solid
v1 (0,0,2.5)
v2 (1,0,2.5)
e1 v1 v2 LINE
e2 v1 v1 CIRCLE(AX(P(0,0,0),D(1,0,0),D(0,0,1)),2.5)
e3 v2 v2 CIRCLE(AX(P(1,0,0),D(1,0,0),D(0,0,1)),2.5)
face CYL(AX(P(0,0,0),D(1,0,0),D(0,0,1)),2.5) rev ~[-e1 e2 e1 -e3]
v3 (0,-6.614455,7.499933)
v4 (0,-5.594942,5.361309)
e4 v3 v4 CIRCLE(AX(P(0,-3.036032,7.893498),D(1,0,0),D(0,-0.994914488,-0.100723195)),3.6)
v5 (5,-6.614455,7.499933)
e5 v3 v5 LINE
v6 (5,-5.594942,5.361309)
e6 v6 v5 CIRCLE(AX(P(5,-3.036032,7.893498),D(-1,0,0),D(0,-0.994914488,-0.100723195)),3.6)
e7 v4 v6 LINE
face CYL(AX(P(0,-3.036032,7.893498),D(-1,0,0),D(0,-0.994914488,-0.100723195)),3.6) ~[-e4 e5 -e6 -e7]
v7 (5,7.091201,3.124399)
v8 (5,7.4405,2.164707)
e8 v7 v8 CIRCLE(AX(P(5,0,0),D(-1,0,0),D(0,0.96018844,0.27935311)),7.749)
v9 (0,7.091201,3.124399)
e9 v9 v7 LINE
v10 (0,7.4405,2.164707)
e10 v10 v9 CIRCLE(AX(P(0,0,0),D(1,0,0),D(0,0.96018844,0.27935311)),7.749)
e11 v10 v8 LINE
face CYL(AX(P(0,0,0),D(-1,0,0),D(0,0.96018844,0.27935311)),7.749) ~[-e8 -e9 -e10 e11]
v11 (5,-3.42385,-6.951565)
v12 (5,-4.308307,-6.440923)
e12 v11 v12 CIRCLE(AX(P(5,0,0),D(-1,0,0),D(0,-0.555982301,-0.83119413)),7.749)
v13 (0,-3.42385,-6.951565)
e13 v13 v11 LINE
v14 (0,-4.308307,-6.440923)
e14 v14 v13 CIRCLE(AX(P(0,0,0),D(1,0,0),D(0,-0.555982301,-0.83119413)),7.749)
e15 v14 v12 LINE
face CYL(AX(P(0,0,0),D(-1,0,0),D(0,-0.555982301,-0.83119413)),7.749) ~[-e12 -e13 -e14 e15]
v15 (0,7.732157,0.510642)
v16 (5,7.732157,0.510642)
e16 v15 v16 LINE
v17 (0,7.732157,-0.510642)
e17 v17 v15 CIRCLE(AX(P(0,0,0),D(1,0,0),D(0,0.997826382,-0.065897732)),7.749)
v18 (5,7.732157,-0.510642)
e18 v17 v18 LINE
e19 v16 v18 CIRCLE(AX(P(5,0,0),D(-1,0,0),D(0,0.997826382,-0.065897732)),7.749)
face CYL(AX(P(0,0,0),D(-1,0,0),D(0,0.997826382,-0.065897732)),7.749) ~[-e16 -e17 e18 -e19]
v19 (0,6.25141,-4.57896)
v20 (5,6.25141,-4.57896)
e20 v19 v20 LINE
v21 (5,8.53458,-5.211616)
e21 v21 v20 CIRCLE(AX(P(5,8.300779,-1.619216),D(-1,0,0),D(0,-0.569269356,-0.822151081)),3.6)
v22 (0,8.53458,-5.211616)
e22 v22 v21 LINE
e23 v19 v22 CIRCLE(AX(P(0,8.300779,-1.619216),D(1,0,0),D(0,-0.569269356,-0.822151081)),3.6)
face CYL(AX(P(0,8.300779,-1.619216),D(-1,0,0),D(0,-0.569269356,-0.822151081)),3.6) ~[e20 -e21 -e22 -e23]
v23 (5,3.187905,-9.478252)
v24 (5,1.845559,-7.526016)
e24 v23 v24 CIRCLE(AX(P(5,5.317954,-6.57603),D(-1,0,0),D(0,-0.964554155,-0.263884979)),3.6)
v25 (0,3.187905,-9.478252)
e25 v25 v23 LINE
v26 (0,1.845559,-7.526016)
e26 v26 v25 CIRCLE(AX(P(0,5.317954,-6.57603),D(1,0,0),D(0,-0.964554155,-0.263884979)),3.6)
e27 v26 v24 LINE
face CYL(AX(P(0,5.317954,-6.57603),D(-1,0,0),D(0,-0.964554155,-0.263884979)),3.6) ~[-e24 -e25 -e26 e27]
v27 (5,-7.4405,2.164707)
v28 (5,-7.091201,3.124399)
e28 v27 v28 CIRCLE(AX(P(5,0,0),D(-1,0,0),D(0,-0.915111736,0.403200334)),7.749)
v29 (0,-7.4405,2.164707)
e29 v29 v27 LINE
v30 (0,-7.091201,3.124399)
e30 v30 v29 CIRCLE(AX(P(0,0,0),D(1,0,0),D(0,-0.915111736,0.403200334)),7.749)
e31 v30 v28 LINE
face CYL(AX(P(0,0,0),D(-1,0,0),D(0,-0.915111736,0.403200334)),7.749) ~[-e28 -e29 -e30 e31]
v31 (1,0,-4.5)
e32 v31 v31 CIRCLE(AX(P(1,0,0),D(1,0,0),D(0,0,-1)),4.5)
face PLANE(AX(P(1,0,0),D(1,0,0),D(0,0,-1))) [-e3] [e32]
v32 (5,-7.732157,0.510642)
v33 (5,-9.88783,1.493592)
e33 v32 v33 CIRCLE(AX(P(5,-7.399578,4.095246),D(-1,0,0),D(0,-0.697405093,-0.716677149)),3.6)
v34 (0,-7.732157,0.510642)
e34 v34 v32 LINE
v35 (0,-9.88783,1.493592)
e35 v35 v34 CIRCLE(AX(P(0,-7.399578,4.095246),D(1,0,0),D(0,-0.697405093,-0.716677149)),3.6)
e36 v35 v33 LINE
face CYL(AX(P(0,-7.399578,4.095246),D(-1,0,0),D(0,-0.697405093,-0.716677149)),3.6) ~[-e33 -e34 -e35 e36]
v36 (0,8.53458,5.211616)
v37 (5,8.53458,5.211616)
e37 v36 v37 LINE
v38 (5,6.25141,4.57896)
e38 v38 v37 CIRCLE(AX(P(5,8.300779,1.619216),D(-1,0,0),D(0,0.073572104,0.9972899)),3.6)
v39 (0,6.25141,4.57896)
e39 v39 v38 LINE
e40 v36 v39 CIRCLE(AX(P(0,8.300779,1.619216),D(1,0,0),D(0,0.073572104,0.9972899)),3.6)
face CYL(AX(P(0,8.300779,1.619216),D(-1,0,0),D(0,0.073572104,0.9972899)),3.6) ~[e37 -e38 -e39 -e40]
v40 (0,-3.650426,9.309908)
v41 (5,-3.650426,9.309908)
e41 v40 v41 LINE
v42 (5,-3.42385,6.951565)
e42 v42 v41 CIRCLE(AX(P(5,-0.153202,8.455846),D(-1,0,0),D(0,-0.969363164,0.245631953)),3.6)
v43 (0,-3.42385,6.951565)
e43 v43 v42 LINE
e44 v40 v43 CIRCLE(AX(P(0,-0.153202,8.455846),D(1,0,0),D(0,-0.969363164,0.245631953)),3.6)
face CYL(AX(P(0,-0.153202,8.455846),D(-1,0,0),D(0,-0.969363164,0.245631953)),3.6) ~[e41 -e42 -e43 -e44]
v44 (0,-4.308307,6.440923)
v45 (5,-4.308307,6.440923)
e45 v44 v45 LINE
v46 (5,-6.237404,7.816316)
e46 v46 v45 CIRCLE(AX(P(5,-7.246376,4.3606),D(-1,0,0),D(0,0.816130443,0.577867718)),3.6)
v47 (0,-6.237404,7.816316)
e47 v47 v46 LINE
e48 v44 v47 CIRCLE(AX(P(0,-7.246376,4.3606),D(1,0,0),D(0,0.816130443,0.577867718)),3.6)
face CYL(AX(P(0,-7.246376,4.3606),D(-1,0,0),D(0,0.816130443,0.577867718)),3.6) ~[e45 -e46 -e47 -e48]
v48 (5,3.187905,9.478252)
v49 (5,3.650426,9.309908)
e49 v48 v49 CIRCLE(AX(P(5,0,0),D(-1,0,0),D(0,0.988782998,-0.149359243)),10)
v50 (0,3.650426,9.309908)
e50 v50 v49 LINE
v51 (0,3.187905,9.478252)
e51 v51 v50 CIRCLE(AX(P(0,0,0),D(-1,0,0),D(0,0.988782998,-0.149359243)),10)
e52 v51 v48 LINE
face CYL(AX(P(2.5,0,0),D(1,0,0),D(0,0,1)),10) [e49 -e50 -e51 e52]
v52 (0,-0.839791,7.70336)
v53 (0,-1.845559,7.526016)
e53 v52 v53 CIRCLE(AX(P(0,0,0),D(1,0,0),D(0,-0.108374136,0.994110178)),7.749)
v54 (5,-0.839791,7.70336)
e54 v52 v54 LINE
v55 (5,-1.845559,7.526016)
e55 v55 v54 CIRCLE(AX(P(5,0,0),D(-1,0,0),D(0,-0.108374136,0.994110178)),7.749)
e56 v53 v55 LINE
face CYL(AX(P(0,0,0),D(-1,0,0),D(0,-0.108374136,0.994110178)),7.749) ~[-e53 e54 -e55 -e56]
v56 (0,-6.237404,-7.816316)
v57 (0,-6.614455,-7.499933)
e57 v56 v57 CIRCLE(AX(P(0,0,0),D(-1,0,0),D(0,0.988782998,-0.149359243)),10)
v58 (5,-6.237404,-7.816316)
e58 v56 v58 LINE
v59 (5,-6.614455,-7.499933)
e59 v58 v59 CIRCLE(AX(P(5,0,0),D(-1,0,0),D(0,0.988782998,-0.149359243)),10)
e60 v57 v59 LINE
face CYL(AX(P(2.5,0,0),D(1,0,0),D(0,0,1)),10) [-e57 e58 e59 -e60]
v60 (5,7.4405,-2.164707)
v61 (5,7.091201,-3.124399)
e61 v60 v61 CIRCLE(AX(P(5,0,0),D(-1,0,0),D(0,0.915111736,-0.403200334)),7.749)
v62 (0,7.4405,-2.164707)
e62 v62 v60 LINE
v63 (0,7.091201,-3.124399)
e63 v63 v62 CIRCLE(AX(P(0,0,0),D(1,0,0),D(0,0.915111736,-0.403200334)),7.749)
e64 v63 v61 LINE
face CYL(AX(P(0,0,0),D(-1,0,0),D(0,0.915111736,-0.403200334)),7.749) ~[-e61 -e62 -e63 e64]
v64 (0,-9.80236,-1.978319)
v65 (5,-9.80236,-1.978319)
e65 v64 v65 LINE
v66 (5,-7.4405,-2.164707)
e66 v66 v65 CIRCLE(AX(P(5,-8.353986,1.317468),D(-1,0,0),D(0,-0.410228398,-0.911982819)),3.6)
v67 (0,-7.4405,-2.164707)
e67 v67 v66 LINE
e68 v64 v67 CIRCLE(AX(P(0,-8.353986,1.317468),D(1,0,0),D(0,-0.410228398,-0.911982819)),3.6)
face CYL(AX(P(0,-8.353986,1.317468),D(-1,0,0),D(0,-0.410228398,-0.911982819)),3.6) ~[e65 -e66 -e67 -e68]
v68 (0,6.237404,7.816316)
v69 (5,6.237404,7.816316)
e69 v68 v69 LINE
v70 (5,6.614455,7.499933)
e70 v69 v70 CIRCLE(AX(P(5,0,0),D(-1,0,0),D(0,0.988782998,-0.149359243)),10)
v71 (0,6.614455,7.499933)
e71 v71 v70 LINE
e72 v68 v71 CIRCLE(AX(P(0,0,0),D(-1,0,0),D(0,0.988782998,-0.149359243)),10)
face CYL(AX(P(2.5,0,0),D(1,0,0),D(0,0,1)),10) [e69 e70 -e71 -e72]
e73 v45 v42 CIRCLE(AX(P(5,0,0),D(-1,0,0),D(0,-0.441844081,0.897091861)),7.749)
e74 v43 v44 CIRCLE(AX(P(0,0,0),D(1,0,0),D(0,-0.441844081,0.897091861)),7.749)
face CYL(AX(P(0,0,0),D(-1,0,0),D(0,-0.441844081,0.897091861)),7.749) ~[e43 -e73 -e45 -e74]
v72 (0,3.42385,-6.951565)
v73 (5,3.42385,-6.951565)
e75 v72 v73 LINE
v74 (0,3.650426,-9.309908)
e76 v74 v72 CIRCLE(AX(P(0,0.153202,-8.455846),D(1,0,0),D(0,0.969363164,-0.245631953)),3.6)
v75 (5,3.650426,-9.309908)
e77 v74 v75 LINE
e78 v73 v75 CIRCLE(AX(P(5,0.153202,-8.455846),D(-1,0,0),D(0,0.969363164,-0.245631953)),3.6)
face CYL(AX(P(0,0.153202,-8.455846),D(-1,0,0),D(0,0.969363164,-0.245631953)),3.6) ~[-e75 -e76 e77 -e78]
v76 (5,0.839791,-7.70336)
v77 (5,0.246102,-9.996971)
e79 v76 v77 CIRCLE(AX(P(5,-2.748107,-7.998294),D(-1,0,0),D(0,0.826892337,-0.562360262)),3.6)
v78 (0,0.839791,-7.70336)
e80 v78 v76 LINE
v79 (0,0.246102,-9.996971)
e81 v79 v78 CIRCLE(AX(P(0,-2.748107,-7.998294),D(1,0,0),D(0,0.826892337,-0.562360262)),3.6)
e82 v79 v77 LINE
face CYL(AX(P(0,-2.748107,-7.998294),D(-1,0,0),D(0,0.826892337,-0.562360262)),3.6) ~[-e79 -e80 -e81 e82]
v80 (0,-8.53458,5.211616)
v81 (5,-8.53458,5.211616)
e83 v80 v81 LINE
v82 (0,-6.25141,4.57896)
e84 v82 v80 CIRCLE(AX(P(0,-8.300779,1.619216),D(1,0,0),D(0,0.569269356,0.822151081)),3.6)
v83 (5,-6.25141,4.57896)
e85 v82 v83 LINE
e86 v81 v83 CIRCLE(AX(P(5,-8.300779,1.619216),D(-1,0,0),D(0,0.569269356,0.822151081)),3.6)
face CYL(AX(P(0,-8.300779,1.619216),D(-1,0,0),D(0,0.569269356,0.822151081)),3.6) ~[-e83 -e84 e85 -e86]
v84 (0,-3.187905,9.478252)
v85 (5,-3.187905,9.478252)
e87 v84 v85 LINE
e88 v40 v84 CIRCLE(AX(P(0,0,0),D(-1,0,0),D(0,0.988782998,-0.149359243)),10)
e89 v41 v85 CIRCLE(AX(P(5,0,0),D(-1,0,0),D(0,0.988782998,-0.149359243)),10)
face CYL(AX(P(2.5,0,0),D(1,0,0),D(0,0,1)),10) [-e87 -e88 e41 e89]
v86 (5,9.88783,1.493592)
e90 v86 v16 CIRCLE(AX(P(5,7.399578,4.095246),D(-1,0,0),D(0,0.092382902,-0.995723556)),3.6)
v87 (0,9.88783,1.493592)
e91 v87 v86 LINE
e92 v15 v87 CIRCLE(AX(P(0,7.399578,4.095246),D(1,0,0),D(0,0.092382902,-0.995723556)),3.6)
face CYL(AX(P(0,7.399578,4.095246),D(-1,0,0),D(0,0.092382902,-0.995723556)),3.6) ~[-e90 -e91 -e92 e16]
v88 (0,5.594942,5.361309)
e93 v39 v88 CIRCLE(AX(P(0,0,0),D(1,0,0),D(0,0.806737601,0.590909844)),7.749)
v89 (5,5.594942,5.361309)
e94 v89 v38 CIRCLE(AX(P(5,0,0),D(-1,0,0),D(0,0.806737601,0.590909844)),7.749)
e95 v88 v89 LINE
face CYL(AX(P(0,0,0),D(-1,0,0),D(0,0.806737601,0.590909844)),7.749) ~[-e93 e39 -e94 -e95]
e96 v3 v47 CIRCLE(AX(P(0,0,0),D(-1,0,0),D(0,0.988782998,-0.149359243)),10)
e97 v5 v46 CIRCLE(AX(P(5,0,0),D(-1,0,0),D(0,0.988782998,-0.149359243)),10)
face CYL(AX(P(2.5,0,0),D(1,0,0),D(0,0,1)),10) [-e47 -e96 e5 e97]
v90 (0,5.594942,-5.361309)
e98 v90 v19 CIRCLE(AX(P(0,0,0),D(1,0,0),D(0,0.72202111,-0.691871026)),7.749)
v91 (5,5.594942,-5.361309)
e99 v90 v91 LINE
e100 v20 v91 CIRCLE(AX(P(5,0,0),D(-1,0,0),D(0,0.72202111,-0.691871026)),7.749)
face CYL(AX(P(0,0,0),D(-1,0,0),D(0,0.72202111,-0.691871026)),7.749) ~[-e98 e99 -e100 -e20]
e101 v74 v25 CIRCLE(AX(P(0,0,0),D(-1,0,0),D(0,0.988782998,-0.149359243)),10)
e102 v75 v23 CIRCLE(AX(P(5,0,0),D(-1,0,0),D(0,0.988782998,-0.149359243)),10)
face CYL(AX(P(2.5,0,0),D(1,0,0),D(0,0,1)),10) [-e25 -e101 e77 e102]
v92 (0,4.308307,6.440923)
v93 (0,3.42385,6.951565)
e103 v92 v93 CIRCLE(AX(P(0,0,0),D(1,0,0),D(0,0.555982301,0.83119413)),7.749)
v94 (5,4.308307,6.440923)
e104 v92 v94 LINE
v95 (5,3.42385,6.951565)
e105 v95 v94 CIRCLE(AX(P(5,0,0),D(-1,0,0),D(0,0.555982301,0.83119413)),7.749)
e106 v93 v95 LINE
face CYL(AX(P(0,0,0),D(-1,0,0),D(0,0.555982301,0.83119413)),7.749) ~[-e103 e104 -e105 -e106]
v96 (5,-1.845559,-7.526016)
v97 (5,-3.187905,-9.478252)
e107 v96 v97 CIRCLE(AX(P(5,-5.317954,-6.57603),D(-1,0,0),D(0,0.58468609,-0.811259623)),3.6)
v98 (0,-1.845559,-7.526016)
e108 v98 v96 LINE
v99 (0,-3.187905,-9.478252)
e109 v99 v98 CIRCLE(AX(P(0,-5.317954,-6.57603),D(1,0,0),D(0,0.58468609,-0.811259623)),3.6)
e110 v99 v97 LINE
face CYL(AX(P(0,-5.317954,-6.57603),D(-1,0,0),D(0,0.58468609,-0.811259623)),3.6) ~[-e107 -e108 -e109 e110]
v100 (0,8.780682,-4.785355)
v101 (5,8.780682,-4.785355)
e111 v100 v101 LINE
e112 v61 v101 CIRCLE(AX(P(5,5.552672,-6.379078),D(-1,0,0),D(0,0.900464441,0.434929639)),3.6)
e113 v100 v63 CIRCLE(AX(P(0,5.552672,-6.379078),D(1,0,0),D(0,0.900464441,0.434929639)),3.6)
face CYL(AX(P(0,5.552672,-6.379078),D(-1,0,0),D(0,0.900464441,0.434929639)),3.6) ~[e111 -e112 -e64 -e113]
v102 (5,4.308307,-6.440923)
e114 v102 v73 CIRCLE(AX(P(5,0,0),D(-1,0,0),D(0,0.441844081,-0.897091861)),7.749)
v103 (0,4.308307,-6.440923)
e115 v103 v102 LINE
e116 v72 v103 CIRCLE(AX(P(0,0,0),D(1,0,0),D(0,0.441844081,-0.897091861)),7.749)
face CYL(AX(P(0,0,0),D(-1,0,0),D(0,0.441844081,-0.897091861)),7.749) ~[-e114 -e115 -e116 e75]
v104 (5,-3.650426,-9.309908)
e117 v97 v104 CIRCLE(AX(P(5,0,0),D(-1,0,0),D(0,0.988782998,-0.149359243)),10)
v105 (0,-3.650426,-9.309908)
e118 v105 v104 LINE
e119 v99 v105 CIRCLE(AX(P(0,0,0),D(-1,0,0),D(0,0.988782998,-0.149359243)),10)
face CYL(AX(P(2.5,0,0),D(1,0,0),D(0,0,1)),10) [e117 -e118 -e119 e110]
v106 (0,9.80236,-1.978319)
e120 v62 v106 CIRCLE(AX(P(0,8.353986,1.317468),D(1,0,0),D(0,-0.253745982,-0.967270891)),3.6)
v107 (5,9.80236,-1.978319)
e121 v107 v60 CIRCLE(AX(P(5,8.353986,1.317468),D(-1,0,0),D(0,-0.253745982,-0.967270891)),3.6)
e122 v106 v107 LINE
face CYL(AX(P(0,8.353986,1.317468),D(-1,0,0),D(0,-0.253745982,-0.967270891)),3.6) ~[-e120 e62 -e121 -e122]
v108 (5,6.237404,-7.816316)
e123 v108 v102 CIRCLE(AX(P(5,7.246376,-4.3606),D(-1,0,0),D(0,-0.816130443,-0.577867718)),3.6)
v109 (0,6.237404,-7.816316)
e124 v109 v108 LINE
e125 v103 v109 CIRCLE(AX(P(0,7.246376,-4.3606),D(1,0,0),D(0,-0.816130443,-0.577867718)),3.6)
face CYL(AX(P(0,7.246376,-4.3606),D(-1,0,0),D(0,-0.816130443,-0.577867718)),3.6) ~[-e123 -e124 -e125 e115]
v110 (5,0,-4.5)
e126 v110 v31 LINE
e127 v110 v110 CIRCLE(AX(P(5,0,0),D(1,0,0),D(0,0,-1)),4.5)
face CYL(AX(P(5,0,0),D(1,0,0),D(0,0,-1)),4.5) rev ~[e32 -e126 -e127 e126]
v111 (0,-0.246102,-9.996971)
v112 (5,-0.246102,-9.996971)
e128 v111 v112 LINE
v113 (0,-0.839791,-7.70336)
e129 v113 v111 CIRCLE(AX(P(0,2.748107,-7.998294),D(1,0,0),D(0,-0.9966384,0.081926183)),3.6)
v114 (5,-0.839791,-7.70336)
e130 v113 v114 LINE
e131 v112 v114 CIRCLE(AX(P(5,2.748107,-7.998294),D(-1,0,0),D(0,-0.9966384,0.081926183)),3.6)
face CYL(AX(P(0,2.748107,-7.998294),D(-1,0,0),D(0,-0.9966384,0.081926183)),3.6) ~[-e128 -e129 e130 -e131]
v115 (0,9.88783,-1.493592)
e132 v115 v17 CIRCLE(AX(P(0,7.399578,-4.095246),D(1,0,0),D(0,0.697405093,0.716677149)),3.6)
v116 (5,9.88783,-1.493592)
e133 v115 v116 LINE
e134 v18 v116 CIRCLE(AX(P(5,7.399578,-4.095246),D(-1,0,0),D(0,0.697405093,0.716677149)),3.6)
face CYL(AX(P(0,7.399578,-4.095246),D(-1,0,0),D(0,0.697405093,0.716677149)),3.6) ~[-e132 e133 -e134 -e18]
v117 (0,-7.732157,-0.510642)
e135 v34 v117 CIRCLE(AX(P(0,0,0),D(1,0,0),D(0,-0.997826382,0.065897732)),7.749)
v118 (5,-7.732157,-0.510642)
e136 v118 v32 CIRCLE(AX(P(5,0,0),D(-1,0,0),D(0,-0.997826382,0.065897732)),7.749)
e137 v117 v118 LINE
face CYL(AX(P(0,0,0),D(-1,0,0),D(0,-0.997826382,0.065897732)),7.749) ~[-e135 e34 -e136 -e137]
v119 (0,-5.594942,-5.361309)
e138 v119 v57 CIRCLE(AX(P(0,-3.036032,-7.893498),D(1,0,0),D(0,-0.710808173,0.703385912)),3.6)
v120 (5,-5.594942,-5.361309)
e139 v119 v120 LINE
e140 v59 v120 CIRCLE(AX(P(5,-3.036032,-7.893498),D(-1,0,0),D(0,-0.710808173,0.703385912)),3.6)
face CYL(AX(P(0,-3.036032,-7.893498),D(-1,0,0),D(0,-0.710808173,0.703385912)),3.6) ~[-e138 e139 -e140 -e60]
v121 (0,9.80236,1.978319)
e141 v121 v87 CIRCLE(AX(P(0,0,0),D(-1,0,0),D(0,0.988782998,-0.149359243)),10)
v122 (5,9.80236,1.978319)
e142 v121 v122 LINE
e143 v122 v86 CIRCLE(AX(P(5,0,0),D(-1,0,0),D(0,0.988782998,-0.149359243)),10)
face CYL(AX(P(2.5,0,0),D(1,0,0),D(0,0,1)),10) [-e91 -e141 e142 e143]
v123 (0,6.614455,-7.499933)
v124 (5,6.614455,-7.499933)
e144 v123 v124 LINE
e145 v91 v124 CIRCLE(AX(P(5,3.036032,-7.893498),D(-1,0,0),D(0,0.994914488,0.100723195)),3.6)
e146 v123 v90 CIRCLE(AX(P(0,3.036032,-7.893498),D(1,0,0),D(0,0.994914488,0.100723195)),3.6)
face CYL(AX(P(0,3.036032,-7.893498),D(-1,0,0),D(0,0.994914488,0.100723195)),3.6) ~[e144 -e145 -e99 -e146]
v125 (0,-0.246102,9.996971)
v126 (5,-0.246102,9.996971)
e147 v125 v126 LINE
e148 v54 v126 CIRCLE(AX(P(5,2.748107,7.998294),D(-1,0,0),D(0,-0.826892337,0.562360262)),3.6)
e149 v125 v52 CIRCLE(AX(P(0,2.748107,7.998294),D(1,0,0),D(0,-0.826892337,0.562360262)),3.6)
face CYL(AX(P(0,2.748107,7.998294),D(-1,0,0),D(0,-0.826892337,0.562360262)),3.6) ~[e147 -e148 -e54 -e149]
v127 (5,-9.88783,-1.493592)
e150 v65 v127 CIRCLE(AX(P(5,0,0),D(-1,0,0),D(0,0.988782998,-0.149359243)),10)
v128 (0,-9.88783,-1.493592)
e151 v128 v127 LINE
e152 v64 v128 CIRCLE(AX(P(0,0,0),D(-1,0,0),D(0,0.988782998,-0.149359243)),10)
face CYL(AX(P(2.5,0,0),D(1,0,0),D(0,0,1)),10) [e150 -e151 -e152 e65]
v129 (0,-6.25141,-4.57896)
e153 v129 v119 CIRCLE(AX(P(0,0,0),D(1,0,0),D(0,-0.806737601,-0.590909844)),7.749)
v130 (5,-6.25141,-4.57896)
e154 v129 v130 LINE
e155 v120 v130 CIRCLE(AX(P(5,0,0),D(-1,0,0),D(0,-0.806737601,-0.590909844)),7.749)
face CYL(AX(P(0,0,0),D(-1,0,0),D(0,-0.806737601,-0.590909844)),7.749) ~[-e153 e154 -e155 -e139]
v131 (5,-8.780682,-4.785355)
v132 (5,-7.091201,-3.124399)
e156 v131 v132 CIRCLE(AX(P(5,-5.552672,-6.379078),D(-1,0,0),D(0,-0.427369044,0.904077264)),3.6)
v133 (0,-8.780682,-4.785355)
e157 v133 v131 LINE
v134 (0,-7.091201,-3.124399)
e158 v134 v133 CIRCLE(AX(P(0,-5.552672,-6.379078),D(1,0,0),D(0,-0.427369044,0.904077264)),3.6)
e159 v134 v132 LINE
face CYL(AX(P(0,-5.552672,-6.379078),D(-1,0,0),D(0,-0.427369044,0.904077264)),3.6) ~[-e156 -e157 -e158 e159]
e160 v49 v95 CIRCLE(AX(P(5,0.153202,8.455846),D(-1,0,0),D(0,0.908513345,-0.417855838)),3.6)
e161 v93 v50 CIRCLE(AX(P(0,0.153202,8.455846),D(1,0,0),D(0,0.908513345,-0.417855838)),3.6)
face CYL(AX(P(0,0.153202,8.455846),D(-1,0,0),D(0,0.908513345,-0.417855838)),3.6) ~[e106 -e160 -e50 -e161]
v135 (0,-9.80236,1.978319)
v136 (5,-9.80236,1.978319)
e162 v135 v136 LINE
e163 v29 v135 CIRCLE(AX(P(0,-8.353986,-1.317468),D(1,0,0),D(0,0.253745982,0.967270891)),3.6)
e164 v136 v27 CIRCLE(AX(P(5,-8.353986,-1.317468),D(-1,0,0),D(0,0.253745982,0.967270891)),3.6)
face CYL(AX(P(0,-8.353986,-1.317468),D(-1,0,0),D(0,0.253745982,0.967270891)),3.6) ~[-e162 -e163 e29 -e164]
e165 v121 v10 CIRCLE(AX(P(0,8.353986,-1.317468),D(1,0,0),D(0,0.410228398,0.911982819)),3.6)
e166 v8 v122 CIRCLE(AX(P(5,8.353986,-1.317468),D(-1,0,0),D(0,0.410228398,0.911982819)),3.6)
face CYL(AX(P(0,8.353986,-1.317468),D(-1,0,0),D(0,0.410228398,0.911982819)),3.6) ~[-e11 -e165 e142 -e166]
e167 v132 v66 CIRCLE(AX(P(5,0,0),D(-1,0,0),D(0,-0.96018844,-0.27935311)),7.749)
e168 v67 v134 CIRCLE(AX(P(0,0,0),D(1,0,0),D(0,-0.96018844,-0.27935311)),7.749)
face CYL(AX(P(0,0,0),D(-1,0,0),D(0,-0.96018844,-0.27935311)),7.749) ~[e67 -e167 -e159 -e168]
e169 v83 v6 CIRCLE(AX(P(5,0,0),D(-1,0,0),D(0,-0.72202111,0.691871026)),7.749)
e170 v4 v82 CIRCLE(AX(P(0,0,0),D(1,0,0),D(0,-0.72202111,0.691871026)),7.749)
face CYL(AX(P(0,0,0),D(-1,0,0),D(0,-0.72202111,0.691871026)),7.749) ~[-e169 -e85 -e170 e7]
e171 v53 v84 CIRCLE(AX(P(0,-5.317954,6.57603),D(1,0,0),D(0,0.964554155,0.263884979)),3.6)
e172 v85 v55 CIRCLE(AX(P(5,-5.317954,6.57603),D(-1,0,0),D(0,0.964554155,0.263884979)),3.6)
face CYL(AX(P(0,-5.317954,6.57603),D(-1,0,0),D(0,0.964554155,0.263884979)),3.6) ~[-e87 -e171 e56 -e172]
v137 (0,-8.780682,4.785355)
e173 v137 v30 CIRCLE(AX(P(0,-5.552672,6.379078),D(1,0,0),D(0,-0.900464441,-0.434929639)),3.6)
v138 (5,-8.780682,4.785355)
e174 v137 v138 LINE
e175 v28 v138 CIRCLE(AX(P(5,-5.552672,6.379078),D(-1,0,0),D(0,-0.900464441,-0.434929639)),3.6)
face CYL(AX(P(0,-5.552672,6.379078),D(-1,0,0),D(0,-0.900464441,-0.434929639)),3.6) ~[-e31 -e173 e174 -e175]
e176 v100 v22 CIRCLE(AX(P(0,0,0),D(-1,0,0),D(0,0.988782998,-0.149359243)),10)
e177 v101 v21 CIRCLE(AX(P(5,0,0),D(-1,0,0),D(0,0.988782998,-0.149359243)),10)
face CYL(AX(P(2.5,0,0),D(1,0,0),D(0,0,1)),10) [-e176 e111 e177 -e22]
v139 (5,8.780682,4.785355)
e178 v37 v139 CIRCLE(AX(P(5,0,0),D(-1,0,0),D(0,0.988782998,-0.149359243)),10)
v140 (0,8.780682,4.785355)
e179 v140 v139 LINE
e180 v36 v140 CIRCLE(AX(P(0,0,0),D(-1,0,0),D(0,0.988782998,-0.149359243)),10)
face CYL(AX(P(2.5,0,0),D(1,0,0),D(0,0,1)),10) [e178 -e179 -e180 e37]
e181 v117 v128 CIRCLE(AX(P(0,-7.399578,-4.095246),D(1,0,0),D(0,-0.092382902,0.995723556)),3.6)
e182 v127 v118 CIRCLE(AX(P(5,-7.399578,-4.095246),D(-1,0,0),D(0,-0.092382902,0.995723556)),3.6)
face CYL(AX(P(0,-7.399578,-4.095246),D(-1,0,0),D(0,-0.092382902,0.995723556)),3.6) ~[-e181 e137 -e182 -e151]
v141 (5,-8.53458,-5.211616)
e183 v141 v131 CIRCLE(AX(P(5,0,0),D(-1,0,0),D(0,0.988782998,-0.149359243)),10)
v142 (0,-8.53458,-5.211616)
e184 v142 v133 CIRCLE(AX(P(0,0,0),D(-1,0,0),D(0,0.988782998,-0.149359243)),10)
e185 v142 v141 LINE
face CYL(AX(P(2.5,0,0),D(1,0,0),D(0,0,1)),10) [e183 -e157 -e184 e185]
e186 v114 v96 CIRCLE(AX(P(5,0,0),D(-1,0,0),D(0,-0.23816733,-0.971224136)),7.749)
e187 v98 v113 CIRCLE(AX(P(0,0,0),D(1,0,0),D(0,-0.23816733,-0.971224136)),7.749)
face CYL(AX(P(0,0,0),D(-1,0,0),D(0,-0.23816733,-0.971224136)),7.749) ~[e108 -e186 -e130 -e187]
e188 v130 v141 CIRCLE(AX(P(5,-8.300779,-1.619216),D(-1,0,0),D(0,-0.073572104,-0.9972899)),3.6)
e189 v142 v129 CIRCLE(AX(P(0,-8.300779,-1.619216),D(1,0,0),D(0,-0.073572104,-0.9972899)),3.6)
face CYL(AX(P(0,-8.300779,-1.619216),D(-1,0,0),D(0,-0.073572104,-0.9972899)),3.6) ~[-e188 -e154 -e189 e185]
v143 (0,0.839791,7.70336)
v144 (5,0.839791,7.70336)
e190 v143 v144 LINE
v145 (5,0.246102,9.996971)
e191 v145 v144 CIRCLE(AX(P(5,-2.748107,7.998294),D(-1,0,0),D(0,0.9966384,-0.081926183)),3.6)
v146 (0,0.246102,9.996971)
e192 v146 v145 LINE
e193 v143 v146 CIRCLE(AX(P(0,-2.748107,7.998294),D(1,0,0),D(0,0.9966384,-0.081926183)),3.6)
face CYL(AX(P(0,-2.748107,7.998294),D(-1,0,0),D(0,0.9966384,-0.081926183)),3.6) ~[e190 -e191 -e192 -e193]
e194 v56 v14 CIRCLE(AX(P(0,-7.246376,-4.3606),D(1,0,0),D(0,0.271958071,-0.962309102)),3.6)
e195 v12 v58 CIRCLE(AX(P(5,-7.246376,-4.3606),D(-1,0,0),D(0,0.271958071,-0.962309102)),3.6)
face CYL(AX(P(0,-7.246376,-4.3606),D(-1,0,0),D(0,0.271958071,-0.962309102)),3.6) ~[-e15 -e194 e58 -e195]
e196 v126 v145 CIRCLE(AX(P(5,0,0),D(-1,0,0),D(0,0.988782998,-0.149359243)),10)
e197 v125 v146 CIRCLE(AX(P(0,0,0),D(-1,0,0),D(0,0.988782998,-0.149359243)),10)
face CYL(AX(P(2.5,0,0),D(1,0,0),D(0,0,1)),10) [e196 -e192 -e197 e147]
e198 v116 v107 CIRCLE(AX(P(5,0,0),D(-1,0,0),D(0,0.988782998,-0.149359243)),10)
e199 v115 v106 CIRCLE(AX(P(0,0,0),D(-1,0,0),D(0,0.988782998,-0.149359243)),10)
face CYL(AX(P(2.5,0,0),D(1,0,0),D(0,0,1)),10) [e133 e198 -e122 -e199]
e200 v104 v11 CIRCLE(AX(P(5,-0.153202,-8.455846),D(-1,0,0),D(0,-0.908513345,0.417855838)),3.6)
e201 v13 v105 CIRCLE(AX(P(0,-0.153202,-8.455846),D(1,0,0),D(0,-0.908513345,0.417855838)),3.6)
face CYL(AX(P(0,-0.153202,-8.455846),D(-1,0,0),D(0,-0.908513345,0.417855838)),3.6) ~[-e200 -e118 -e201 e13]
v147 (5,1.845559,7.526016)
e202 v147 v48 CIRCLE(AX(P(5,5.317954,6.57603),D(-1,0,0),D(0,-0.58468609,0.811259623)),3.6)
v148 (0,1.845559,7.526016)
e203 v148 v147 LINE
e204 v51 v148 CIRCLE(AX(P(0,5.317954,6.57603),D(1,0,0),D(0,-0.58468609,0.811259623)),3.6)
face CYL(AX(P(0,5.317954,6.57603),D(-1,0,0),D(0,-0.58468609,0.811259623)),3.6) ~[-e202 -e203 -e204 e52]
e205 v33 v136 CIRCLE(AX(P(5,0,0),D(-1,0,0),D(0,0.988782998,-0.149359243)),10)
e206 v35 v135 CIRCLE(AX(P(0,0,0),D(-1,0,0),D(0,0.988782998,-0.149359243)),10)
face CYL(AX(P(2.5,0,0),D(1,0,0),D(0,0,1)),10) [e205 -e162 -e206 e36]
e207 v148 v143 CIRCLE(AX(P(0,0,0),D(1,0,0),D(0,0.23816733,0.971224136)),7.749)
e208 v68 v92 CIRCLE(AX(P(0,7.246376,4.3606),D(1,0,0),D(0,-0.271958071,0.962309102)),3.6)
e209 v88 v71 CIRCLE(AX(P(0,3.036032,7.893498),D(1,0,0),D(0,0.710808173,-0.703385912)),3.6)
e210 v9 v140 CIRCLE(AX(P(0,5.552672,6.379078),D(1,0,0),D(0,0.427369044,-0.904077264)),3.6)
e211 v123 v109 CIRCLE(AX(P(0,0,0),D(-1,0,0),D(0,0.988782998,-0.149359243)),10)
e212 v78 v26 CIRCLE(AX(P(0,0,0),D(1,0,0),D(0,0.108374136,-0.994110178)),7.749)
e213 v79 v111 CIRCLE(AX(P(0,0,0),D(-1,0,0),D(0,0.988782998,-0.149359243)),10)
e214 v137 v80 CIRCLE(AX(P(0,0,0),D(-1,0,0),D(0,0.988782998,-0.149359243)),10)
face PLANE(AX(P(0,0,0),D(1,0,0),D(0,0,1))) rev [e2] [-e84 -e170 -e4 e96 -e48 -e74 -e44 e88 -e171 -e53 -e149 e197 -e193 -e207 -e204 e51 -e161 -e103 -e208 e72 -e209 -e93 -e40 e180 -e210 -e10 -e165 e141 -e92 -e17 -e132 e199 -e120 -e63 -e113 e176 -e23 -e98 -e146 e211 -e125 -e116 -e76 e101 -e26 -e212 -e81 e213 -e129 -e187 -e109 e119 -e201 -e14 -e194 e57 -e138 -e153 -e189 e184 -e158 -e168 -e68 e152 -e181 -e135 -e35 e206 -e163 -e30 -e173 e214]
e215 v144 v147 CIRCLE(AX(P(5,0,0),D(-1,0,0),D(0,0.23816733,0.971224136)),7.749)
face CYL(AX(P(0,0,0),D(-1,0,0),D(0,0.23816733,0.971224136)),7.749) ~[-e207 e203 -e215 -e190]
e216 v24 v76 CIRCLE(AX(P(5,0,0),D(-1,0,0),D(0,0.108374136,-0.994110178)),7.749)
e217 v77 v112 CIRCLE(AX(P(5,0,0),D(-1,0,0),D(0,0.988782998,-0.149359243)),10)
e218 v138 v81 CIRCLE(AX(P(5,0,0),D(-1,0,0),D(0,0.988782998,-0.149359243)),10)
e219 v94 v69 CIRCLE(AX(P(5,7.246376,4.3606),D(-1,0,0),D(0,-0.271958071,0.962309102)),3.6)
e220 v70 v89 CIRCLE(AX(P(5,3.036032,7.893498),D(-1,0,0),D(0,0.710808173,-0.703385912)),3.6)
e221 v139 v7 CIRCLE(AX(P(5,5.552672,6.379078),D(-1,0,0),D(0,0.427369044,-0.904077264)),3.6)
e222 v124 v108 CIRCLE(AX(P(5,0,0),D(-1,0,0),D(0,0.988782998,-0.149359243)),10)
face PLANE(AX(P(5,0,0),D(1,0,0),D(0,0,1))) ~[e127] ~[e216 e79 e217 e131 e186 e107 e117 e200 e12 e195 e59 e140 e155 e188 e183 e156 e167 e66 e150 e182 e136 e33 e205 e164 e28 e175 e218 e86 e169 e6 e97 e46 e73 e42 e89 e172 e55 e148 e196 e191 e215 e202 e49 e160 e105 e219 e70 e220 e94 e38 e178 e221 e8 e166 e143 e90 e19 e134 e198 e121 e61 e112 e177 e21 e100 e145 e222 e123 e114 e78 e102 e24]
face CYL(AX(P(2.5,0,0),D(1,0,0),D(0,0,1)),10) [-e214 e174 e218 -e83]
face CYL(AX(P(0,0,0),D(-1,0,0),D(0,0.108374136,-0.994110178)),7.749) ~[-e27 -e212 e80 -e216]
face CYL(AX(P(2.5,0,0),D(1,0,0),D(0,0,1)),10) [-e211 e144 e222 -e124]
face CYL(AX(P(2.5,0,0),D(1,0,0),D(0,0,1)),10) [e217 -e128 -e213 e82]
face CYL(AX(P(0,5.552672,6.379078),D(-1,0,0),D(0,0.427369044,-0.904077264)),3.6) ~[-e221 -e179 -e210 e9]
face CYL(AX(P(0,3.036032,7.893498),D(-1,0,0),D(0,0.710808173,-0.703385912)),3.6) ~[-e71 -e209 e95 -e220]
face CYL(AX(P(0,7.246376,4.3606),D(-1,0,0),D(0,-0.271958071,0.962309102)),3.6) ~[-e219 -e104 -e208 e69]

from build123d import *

# Parameters (mm, degrees)
BASPROSKE_W        = 5
BASPROSKE_H        = 10
TOOTHCUT_DEPTH     = 16
TEETHCUTS_COUNT    = 18
TEETHCUTS_ANGLE    = 340
BORSKE_R           = 2.5
BORE_DEPTH         = 50.0000508
SKETCH1_R          = 4.5
CUT_EXTRUDE1_DEPTH = 4


with BuildPart() as part:
    # BasProSke → Base-Revolve (revolve)
    with BuildSketch(Plane(origin=(0, 0, 0), x_dir=(1, 0, 0), z_dir=(0, 1, 0)), mode=Mode.PRIVATE) as base_revolve_sk:
        with Locations((2.5, 5)):
            Rectangle(BASPROSKE_W, BASPROSKE_H)
    revolve(base_revolve_sk.sketch.rotate(Axis((-10, 0, 0), (1, 0, 0)), 180), axis=Axis((-10, 0, 0), (1, 0, 0)))

    # TooCutSke → ToothCut (cut, through all)
    with BuildSketch(Plane(origin=(0, 0, 0), x_dir=(0, 0, -1), z_dir=(1, 0, 0))):
        with BuildLine():
            ThreePointArc((0.510641536, 7.732156635), (0, 7.749), (-0.510641536, 7.732156635))
            ThreePointArc((-0.510641536, 7.732156635), (-0.82619259, 8.907320741), (-1.515208602, 9.910236529))
            ThreePointArc((-1.515208602, 9.910236529), (0, 10.0254), (1.515208602, 9.910236529))
            ThreePointArc((1.515208602, 9.910236529), (0.82619259, 8.907320741), (0.510641536, 7.732156635))
        make_face()
    toothcut = extrude(amount=TOOTHCUT_DEPTH, mode=Mode.SUBTRACT)

    # TeethCuts: ToothCut ×18 about axis
    teethcuts_axis = Axis((-10, 0, 0), (1, 0, 0))
    for i in range(1, TEETHCUTS_COUNT):
        add(toothcut.rotate(teethcuts_axis, i * TEETHCUTS_ANGLE / (TEETHCUTS_COUNT - 1)), mode=Mode.SUBTRACT)

    # BorSke → Bore (cut, symmetric)
    with BuildSketch(Plane(origin=(0, 0, 0), x_dir=(0, 0, -1), z_dir=(1, 0, 0))):
        with Locations(Location((0, 0, 0), (0, 0, 180))):
            Circle(BORSKE_R)
    extrude(amount=BORE_DEPTH, both=True, mode=Mode.SUBTRACT)

    # Sketch1 → Cut-Extrude1 (cut)
    with BuildSketch(Plane(origin=(5, 0, 0), x_dir=(0, 0, -1), z_dir=(1, 0, 0))):
        Circle(SKETCH1_R)
    extrude(amount=-CUT_EXTRUDE1_DEPTH, mode=Mode.SUBTRACT)


solid = part.part
